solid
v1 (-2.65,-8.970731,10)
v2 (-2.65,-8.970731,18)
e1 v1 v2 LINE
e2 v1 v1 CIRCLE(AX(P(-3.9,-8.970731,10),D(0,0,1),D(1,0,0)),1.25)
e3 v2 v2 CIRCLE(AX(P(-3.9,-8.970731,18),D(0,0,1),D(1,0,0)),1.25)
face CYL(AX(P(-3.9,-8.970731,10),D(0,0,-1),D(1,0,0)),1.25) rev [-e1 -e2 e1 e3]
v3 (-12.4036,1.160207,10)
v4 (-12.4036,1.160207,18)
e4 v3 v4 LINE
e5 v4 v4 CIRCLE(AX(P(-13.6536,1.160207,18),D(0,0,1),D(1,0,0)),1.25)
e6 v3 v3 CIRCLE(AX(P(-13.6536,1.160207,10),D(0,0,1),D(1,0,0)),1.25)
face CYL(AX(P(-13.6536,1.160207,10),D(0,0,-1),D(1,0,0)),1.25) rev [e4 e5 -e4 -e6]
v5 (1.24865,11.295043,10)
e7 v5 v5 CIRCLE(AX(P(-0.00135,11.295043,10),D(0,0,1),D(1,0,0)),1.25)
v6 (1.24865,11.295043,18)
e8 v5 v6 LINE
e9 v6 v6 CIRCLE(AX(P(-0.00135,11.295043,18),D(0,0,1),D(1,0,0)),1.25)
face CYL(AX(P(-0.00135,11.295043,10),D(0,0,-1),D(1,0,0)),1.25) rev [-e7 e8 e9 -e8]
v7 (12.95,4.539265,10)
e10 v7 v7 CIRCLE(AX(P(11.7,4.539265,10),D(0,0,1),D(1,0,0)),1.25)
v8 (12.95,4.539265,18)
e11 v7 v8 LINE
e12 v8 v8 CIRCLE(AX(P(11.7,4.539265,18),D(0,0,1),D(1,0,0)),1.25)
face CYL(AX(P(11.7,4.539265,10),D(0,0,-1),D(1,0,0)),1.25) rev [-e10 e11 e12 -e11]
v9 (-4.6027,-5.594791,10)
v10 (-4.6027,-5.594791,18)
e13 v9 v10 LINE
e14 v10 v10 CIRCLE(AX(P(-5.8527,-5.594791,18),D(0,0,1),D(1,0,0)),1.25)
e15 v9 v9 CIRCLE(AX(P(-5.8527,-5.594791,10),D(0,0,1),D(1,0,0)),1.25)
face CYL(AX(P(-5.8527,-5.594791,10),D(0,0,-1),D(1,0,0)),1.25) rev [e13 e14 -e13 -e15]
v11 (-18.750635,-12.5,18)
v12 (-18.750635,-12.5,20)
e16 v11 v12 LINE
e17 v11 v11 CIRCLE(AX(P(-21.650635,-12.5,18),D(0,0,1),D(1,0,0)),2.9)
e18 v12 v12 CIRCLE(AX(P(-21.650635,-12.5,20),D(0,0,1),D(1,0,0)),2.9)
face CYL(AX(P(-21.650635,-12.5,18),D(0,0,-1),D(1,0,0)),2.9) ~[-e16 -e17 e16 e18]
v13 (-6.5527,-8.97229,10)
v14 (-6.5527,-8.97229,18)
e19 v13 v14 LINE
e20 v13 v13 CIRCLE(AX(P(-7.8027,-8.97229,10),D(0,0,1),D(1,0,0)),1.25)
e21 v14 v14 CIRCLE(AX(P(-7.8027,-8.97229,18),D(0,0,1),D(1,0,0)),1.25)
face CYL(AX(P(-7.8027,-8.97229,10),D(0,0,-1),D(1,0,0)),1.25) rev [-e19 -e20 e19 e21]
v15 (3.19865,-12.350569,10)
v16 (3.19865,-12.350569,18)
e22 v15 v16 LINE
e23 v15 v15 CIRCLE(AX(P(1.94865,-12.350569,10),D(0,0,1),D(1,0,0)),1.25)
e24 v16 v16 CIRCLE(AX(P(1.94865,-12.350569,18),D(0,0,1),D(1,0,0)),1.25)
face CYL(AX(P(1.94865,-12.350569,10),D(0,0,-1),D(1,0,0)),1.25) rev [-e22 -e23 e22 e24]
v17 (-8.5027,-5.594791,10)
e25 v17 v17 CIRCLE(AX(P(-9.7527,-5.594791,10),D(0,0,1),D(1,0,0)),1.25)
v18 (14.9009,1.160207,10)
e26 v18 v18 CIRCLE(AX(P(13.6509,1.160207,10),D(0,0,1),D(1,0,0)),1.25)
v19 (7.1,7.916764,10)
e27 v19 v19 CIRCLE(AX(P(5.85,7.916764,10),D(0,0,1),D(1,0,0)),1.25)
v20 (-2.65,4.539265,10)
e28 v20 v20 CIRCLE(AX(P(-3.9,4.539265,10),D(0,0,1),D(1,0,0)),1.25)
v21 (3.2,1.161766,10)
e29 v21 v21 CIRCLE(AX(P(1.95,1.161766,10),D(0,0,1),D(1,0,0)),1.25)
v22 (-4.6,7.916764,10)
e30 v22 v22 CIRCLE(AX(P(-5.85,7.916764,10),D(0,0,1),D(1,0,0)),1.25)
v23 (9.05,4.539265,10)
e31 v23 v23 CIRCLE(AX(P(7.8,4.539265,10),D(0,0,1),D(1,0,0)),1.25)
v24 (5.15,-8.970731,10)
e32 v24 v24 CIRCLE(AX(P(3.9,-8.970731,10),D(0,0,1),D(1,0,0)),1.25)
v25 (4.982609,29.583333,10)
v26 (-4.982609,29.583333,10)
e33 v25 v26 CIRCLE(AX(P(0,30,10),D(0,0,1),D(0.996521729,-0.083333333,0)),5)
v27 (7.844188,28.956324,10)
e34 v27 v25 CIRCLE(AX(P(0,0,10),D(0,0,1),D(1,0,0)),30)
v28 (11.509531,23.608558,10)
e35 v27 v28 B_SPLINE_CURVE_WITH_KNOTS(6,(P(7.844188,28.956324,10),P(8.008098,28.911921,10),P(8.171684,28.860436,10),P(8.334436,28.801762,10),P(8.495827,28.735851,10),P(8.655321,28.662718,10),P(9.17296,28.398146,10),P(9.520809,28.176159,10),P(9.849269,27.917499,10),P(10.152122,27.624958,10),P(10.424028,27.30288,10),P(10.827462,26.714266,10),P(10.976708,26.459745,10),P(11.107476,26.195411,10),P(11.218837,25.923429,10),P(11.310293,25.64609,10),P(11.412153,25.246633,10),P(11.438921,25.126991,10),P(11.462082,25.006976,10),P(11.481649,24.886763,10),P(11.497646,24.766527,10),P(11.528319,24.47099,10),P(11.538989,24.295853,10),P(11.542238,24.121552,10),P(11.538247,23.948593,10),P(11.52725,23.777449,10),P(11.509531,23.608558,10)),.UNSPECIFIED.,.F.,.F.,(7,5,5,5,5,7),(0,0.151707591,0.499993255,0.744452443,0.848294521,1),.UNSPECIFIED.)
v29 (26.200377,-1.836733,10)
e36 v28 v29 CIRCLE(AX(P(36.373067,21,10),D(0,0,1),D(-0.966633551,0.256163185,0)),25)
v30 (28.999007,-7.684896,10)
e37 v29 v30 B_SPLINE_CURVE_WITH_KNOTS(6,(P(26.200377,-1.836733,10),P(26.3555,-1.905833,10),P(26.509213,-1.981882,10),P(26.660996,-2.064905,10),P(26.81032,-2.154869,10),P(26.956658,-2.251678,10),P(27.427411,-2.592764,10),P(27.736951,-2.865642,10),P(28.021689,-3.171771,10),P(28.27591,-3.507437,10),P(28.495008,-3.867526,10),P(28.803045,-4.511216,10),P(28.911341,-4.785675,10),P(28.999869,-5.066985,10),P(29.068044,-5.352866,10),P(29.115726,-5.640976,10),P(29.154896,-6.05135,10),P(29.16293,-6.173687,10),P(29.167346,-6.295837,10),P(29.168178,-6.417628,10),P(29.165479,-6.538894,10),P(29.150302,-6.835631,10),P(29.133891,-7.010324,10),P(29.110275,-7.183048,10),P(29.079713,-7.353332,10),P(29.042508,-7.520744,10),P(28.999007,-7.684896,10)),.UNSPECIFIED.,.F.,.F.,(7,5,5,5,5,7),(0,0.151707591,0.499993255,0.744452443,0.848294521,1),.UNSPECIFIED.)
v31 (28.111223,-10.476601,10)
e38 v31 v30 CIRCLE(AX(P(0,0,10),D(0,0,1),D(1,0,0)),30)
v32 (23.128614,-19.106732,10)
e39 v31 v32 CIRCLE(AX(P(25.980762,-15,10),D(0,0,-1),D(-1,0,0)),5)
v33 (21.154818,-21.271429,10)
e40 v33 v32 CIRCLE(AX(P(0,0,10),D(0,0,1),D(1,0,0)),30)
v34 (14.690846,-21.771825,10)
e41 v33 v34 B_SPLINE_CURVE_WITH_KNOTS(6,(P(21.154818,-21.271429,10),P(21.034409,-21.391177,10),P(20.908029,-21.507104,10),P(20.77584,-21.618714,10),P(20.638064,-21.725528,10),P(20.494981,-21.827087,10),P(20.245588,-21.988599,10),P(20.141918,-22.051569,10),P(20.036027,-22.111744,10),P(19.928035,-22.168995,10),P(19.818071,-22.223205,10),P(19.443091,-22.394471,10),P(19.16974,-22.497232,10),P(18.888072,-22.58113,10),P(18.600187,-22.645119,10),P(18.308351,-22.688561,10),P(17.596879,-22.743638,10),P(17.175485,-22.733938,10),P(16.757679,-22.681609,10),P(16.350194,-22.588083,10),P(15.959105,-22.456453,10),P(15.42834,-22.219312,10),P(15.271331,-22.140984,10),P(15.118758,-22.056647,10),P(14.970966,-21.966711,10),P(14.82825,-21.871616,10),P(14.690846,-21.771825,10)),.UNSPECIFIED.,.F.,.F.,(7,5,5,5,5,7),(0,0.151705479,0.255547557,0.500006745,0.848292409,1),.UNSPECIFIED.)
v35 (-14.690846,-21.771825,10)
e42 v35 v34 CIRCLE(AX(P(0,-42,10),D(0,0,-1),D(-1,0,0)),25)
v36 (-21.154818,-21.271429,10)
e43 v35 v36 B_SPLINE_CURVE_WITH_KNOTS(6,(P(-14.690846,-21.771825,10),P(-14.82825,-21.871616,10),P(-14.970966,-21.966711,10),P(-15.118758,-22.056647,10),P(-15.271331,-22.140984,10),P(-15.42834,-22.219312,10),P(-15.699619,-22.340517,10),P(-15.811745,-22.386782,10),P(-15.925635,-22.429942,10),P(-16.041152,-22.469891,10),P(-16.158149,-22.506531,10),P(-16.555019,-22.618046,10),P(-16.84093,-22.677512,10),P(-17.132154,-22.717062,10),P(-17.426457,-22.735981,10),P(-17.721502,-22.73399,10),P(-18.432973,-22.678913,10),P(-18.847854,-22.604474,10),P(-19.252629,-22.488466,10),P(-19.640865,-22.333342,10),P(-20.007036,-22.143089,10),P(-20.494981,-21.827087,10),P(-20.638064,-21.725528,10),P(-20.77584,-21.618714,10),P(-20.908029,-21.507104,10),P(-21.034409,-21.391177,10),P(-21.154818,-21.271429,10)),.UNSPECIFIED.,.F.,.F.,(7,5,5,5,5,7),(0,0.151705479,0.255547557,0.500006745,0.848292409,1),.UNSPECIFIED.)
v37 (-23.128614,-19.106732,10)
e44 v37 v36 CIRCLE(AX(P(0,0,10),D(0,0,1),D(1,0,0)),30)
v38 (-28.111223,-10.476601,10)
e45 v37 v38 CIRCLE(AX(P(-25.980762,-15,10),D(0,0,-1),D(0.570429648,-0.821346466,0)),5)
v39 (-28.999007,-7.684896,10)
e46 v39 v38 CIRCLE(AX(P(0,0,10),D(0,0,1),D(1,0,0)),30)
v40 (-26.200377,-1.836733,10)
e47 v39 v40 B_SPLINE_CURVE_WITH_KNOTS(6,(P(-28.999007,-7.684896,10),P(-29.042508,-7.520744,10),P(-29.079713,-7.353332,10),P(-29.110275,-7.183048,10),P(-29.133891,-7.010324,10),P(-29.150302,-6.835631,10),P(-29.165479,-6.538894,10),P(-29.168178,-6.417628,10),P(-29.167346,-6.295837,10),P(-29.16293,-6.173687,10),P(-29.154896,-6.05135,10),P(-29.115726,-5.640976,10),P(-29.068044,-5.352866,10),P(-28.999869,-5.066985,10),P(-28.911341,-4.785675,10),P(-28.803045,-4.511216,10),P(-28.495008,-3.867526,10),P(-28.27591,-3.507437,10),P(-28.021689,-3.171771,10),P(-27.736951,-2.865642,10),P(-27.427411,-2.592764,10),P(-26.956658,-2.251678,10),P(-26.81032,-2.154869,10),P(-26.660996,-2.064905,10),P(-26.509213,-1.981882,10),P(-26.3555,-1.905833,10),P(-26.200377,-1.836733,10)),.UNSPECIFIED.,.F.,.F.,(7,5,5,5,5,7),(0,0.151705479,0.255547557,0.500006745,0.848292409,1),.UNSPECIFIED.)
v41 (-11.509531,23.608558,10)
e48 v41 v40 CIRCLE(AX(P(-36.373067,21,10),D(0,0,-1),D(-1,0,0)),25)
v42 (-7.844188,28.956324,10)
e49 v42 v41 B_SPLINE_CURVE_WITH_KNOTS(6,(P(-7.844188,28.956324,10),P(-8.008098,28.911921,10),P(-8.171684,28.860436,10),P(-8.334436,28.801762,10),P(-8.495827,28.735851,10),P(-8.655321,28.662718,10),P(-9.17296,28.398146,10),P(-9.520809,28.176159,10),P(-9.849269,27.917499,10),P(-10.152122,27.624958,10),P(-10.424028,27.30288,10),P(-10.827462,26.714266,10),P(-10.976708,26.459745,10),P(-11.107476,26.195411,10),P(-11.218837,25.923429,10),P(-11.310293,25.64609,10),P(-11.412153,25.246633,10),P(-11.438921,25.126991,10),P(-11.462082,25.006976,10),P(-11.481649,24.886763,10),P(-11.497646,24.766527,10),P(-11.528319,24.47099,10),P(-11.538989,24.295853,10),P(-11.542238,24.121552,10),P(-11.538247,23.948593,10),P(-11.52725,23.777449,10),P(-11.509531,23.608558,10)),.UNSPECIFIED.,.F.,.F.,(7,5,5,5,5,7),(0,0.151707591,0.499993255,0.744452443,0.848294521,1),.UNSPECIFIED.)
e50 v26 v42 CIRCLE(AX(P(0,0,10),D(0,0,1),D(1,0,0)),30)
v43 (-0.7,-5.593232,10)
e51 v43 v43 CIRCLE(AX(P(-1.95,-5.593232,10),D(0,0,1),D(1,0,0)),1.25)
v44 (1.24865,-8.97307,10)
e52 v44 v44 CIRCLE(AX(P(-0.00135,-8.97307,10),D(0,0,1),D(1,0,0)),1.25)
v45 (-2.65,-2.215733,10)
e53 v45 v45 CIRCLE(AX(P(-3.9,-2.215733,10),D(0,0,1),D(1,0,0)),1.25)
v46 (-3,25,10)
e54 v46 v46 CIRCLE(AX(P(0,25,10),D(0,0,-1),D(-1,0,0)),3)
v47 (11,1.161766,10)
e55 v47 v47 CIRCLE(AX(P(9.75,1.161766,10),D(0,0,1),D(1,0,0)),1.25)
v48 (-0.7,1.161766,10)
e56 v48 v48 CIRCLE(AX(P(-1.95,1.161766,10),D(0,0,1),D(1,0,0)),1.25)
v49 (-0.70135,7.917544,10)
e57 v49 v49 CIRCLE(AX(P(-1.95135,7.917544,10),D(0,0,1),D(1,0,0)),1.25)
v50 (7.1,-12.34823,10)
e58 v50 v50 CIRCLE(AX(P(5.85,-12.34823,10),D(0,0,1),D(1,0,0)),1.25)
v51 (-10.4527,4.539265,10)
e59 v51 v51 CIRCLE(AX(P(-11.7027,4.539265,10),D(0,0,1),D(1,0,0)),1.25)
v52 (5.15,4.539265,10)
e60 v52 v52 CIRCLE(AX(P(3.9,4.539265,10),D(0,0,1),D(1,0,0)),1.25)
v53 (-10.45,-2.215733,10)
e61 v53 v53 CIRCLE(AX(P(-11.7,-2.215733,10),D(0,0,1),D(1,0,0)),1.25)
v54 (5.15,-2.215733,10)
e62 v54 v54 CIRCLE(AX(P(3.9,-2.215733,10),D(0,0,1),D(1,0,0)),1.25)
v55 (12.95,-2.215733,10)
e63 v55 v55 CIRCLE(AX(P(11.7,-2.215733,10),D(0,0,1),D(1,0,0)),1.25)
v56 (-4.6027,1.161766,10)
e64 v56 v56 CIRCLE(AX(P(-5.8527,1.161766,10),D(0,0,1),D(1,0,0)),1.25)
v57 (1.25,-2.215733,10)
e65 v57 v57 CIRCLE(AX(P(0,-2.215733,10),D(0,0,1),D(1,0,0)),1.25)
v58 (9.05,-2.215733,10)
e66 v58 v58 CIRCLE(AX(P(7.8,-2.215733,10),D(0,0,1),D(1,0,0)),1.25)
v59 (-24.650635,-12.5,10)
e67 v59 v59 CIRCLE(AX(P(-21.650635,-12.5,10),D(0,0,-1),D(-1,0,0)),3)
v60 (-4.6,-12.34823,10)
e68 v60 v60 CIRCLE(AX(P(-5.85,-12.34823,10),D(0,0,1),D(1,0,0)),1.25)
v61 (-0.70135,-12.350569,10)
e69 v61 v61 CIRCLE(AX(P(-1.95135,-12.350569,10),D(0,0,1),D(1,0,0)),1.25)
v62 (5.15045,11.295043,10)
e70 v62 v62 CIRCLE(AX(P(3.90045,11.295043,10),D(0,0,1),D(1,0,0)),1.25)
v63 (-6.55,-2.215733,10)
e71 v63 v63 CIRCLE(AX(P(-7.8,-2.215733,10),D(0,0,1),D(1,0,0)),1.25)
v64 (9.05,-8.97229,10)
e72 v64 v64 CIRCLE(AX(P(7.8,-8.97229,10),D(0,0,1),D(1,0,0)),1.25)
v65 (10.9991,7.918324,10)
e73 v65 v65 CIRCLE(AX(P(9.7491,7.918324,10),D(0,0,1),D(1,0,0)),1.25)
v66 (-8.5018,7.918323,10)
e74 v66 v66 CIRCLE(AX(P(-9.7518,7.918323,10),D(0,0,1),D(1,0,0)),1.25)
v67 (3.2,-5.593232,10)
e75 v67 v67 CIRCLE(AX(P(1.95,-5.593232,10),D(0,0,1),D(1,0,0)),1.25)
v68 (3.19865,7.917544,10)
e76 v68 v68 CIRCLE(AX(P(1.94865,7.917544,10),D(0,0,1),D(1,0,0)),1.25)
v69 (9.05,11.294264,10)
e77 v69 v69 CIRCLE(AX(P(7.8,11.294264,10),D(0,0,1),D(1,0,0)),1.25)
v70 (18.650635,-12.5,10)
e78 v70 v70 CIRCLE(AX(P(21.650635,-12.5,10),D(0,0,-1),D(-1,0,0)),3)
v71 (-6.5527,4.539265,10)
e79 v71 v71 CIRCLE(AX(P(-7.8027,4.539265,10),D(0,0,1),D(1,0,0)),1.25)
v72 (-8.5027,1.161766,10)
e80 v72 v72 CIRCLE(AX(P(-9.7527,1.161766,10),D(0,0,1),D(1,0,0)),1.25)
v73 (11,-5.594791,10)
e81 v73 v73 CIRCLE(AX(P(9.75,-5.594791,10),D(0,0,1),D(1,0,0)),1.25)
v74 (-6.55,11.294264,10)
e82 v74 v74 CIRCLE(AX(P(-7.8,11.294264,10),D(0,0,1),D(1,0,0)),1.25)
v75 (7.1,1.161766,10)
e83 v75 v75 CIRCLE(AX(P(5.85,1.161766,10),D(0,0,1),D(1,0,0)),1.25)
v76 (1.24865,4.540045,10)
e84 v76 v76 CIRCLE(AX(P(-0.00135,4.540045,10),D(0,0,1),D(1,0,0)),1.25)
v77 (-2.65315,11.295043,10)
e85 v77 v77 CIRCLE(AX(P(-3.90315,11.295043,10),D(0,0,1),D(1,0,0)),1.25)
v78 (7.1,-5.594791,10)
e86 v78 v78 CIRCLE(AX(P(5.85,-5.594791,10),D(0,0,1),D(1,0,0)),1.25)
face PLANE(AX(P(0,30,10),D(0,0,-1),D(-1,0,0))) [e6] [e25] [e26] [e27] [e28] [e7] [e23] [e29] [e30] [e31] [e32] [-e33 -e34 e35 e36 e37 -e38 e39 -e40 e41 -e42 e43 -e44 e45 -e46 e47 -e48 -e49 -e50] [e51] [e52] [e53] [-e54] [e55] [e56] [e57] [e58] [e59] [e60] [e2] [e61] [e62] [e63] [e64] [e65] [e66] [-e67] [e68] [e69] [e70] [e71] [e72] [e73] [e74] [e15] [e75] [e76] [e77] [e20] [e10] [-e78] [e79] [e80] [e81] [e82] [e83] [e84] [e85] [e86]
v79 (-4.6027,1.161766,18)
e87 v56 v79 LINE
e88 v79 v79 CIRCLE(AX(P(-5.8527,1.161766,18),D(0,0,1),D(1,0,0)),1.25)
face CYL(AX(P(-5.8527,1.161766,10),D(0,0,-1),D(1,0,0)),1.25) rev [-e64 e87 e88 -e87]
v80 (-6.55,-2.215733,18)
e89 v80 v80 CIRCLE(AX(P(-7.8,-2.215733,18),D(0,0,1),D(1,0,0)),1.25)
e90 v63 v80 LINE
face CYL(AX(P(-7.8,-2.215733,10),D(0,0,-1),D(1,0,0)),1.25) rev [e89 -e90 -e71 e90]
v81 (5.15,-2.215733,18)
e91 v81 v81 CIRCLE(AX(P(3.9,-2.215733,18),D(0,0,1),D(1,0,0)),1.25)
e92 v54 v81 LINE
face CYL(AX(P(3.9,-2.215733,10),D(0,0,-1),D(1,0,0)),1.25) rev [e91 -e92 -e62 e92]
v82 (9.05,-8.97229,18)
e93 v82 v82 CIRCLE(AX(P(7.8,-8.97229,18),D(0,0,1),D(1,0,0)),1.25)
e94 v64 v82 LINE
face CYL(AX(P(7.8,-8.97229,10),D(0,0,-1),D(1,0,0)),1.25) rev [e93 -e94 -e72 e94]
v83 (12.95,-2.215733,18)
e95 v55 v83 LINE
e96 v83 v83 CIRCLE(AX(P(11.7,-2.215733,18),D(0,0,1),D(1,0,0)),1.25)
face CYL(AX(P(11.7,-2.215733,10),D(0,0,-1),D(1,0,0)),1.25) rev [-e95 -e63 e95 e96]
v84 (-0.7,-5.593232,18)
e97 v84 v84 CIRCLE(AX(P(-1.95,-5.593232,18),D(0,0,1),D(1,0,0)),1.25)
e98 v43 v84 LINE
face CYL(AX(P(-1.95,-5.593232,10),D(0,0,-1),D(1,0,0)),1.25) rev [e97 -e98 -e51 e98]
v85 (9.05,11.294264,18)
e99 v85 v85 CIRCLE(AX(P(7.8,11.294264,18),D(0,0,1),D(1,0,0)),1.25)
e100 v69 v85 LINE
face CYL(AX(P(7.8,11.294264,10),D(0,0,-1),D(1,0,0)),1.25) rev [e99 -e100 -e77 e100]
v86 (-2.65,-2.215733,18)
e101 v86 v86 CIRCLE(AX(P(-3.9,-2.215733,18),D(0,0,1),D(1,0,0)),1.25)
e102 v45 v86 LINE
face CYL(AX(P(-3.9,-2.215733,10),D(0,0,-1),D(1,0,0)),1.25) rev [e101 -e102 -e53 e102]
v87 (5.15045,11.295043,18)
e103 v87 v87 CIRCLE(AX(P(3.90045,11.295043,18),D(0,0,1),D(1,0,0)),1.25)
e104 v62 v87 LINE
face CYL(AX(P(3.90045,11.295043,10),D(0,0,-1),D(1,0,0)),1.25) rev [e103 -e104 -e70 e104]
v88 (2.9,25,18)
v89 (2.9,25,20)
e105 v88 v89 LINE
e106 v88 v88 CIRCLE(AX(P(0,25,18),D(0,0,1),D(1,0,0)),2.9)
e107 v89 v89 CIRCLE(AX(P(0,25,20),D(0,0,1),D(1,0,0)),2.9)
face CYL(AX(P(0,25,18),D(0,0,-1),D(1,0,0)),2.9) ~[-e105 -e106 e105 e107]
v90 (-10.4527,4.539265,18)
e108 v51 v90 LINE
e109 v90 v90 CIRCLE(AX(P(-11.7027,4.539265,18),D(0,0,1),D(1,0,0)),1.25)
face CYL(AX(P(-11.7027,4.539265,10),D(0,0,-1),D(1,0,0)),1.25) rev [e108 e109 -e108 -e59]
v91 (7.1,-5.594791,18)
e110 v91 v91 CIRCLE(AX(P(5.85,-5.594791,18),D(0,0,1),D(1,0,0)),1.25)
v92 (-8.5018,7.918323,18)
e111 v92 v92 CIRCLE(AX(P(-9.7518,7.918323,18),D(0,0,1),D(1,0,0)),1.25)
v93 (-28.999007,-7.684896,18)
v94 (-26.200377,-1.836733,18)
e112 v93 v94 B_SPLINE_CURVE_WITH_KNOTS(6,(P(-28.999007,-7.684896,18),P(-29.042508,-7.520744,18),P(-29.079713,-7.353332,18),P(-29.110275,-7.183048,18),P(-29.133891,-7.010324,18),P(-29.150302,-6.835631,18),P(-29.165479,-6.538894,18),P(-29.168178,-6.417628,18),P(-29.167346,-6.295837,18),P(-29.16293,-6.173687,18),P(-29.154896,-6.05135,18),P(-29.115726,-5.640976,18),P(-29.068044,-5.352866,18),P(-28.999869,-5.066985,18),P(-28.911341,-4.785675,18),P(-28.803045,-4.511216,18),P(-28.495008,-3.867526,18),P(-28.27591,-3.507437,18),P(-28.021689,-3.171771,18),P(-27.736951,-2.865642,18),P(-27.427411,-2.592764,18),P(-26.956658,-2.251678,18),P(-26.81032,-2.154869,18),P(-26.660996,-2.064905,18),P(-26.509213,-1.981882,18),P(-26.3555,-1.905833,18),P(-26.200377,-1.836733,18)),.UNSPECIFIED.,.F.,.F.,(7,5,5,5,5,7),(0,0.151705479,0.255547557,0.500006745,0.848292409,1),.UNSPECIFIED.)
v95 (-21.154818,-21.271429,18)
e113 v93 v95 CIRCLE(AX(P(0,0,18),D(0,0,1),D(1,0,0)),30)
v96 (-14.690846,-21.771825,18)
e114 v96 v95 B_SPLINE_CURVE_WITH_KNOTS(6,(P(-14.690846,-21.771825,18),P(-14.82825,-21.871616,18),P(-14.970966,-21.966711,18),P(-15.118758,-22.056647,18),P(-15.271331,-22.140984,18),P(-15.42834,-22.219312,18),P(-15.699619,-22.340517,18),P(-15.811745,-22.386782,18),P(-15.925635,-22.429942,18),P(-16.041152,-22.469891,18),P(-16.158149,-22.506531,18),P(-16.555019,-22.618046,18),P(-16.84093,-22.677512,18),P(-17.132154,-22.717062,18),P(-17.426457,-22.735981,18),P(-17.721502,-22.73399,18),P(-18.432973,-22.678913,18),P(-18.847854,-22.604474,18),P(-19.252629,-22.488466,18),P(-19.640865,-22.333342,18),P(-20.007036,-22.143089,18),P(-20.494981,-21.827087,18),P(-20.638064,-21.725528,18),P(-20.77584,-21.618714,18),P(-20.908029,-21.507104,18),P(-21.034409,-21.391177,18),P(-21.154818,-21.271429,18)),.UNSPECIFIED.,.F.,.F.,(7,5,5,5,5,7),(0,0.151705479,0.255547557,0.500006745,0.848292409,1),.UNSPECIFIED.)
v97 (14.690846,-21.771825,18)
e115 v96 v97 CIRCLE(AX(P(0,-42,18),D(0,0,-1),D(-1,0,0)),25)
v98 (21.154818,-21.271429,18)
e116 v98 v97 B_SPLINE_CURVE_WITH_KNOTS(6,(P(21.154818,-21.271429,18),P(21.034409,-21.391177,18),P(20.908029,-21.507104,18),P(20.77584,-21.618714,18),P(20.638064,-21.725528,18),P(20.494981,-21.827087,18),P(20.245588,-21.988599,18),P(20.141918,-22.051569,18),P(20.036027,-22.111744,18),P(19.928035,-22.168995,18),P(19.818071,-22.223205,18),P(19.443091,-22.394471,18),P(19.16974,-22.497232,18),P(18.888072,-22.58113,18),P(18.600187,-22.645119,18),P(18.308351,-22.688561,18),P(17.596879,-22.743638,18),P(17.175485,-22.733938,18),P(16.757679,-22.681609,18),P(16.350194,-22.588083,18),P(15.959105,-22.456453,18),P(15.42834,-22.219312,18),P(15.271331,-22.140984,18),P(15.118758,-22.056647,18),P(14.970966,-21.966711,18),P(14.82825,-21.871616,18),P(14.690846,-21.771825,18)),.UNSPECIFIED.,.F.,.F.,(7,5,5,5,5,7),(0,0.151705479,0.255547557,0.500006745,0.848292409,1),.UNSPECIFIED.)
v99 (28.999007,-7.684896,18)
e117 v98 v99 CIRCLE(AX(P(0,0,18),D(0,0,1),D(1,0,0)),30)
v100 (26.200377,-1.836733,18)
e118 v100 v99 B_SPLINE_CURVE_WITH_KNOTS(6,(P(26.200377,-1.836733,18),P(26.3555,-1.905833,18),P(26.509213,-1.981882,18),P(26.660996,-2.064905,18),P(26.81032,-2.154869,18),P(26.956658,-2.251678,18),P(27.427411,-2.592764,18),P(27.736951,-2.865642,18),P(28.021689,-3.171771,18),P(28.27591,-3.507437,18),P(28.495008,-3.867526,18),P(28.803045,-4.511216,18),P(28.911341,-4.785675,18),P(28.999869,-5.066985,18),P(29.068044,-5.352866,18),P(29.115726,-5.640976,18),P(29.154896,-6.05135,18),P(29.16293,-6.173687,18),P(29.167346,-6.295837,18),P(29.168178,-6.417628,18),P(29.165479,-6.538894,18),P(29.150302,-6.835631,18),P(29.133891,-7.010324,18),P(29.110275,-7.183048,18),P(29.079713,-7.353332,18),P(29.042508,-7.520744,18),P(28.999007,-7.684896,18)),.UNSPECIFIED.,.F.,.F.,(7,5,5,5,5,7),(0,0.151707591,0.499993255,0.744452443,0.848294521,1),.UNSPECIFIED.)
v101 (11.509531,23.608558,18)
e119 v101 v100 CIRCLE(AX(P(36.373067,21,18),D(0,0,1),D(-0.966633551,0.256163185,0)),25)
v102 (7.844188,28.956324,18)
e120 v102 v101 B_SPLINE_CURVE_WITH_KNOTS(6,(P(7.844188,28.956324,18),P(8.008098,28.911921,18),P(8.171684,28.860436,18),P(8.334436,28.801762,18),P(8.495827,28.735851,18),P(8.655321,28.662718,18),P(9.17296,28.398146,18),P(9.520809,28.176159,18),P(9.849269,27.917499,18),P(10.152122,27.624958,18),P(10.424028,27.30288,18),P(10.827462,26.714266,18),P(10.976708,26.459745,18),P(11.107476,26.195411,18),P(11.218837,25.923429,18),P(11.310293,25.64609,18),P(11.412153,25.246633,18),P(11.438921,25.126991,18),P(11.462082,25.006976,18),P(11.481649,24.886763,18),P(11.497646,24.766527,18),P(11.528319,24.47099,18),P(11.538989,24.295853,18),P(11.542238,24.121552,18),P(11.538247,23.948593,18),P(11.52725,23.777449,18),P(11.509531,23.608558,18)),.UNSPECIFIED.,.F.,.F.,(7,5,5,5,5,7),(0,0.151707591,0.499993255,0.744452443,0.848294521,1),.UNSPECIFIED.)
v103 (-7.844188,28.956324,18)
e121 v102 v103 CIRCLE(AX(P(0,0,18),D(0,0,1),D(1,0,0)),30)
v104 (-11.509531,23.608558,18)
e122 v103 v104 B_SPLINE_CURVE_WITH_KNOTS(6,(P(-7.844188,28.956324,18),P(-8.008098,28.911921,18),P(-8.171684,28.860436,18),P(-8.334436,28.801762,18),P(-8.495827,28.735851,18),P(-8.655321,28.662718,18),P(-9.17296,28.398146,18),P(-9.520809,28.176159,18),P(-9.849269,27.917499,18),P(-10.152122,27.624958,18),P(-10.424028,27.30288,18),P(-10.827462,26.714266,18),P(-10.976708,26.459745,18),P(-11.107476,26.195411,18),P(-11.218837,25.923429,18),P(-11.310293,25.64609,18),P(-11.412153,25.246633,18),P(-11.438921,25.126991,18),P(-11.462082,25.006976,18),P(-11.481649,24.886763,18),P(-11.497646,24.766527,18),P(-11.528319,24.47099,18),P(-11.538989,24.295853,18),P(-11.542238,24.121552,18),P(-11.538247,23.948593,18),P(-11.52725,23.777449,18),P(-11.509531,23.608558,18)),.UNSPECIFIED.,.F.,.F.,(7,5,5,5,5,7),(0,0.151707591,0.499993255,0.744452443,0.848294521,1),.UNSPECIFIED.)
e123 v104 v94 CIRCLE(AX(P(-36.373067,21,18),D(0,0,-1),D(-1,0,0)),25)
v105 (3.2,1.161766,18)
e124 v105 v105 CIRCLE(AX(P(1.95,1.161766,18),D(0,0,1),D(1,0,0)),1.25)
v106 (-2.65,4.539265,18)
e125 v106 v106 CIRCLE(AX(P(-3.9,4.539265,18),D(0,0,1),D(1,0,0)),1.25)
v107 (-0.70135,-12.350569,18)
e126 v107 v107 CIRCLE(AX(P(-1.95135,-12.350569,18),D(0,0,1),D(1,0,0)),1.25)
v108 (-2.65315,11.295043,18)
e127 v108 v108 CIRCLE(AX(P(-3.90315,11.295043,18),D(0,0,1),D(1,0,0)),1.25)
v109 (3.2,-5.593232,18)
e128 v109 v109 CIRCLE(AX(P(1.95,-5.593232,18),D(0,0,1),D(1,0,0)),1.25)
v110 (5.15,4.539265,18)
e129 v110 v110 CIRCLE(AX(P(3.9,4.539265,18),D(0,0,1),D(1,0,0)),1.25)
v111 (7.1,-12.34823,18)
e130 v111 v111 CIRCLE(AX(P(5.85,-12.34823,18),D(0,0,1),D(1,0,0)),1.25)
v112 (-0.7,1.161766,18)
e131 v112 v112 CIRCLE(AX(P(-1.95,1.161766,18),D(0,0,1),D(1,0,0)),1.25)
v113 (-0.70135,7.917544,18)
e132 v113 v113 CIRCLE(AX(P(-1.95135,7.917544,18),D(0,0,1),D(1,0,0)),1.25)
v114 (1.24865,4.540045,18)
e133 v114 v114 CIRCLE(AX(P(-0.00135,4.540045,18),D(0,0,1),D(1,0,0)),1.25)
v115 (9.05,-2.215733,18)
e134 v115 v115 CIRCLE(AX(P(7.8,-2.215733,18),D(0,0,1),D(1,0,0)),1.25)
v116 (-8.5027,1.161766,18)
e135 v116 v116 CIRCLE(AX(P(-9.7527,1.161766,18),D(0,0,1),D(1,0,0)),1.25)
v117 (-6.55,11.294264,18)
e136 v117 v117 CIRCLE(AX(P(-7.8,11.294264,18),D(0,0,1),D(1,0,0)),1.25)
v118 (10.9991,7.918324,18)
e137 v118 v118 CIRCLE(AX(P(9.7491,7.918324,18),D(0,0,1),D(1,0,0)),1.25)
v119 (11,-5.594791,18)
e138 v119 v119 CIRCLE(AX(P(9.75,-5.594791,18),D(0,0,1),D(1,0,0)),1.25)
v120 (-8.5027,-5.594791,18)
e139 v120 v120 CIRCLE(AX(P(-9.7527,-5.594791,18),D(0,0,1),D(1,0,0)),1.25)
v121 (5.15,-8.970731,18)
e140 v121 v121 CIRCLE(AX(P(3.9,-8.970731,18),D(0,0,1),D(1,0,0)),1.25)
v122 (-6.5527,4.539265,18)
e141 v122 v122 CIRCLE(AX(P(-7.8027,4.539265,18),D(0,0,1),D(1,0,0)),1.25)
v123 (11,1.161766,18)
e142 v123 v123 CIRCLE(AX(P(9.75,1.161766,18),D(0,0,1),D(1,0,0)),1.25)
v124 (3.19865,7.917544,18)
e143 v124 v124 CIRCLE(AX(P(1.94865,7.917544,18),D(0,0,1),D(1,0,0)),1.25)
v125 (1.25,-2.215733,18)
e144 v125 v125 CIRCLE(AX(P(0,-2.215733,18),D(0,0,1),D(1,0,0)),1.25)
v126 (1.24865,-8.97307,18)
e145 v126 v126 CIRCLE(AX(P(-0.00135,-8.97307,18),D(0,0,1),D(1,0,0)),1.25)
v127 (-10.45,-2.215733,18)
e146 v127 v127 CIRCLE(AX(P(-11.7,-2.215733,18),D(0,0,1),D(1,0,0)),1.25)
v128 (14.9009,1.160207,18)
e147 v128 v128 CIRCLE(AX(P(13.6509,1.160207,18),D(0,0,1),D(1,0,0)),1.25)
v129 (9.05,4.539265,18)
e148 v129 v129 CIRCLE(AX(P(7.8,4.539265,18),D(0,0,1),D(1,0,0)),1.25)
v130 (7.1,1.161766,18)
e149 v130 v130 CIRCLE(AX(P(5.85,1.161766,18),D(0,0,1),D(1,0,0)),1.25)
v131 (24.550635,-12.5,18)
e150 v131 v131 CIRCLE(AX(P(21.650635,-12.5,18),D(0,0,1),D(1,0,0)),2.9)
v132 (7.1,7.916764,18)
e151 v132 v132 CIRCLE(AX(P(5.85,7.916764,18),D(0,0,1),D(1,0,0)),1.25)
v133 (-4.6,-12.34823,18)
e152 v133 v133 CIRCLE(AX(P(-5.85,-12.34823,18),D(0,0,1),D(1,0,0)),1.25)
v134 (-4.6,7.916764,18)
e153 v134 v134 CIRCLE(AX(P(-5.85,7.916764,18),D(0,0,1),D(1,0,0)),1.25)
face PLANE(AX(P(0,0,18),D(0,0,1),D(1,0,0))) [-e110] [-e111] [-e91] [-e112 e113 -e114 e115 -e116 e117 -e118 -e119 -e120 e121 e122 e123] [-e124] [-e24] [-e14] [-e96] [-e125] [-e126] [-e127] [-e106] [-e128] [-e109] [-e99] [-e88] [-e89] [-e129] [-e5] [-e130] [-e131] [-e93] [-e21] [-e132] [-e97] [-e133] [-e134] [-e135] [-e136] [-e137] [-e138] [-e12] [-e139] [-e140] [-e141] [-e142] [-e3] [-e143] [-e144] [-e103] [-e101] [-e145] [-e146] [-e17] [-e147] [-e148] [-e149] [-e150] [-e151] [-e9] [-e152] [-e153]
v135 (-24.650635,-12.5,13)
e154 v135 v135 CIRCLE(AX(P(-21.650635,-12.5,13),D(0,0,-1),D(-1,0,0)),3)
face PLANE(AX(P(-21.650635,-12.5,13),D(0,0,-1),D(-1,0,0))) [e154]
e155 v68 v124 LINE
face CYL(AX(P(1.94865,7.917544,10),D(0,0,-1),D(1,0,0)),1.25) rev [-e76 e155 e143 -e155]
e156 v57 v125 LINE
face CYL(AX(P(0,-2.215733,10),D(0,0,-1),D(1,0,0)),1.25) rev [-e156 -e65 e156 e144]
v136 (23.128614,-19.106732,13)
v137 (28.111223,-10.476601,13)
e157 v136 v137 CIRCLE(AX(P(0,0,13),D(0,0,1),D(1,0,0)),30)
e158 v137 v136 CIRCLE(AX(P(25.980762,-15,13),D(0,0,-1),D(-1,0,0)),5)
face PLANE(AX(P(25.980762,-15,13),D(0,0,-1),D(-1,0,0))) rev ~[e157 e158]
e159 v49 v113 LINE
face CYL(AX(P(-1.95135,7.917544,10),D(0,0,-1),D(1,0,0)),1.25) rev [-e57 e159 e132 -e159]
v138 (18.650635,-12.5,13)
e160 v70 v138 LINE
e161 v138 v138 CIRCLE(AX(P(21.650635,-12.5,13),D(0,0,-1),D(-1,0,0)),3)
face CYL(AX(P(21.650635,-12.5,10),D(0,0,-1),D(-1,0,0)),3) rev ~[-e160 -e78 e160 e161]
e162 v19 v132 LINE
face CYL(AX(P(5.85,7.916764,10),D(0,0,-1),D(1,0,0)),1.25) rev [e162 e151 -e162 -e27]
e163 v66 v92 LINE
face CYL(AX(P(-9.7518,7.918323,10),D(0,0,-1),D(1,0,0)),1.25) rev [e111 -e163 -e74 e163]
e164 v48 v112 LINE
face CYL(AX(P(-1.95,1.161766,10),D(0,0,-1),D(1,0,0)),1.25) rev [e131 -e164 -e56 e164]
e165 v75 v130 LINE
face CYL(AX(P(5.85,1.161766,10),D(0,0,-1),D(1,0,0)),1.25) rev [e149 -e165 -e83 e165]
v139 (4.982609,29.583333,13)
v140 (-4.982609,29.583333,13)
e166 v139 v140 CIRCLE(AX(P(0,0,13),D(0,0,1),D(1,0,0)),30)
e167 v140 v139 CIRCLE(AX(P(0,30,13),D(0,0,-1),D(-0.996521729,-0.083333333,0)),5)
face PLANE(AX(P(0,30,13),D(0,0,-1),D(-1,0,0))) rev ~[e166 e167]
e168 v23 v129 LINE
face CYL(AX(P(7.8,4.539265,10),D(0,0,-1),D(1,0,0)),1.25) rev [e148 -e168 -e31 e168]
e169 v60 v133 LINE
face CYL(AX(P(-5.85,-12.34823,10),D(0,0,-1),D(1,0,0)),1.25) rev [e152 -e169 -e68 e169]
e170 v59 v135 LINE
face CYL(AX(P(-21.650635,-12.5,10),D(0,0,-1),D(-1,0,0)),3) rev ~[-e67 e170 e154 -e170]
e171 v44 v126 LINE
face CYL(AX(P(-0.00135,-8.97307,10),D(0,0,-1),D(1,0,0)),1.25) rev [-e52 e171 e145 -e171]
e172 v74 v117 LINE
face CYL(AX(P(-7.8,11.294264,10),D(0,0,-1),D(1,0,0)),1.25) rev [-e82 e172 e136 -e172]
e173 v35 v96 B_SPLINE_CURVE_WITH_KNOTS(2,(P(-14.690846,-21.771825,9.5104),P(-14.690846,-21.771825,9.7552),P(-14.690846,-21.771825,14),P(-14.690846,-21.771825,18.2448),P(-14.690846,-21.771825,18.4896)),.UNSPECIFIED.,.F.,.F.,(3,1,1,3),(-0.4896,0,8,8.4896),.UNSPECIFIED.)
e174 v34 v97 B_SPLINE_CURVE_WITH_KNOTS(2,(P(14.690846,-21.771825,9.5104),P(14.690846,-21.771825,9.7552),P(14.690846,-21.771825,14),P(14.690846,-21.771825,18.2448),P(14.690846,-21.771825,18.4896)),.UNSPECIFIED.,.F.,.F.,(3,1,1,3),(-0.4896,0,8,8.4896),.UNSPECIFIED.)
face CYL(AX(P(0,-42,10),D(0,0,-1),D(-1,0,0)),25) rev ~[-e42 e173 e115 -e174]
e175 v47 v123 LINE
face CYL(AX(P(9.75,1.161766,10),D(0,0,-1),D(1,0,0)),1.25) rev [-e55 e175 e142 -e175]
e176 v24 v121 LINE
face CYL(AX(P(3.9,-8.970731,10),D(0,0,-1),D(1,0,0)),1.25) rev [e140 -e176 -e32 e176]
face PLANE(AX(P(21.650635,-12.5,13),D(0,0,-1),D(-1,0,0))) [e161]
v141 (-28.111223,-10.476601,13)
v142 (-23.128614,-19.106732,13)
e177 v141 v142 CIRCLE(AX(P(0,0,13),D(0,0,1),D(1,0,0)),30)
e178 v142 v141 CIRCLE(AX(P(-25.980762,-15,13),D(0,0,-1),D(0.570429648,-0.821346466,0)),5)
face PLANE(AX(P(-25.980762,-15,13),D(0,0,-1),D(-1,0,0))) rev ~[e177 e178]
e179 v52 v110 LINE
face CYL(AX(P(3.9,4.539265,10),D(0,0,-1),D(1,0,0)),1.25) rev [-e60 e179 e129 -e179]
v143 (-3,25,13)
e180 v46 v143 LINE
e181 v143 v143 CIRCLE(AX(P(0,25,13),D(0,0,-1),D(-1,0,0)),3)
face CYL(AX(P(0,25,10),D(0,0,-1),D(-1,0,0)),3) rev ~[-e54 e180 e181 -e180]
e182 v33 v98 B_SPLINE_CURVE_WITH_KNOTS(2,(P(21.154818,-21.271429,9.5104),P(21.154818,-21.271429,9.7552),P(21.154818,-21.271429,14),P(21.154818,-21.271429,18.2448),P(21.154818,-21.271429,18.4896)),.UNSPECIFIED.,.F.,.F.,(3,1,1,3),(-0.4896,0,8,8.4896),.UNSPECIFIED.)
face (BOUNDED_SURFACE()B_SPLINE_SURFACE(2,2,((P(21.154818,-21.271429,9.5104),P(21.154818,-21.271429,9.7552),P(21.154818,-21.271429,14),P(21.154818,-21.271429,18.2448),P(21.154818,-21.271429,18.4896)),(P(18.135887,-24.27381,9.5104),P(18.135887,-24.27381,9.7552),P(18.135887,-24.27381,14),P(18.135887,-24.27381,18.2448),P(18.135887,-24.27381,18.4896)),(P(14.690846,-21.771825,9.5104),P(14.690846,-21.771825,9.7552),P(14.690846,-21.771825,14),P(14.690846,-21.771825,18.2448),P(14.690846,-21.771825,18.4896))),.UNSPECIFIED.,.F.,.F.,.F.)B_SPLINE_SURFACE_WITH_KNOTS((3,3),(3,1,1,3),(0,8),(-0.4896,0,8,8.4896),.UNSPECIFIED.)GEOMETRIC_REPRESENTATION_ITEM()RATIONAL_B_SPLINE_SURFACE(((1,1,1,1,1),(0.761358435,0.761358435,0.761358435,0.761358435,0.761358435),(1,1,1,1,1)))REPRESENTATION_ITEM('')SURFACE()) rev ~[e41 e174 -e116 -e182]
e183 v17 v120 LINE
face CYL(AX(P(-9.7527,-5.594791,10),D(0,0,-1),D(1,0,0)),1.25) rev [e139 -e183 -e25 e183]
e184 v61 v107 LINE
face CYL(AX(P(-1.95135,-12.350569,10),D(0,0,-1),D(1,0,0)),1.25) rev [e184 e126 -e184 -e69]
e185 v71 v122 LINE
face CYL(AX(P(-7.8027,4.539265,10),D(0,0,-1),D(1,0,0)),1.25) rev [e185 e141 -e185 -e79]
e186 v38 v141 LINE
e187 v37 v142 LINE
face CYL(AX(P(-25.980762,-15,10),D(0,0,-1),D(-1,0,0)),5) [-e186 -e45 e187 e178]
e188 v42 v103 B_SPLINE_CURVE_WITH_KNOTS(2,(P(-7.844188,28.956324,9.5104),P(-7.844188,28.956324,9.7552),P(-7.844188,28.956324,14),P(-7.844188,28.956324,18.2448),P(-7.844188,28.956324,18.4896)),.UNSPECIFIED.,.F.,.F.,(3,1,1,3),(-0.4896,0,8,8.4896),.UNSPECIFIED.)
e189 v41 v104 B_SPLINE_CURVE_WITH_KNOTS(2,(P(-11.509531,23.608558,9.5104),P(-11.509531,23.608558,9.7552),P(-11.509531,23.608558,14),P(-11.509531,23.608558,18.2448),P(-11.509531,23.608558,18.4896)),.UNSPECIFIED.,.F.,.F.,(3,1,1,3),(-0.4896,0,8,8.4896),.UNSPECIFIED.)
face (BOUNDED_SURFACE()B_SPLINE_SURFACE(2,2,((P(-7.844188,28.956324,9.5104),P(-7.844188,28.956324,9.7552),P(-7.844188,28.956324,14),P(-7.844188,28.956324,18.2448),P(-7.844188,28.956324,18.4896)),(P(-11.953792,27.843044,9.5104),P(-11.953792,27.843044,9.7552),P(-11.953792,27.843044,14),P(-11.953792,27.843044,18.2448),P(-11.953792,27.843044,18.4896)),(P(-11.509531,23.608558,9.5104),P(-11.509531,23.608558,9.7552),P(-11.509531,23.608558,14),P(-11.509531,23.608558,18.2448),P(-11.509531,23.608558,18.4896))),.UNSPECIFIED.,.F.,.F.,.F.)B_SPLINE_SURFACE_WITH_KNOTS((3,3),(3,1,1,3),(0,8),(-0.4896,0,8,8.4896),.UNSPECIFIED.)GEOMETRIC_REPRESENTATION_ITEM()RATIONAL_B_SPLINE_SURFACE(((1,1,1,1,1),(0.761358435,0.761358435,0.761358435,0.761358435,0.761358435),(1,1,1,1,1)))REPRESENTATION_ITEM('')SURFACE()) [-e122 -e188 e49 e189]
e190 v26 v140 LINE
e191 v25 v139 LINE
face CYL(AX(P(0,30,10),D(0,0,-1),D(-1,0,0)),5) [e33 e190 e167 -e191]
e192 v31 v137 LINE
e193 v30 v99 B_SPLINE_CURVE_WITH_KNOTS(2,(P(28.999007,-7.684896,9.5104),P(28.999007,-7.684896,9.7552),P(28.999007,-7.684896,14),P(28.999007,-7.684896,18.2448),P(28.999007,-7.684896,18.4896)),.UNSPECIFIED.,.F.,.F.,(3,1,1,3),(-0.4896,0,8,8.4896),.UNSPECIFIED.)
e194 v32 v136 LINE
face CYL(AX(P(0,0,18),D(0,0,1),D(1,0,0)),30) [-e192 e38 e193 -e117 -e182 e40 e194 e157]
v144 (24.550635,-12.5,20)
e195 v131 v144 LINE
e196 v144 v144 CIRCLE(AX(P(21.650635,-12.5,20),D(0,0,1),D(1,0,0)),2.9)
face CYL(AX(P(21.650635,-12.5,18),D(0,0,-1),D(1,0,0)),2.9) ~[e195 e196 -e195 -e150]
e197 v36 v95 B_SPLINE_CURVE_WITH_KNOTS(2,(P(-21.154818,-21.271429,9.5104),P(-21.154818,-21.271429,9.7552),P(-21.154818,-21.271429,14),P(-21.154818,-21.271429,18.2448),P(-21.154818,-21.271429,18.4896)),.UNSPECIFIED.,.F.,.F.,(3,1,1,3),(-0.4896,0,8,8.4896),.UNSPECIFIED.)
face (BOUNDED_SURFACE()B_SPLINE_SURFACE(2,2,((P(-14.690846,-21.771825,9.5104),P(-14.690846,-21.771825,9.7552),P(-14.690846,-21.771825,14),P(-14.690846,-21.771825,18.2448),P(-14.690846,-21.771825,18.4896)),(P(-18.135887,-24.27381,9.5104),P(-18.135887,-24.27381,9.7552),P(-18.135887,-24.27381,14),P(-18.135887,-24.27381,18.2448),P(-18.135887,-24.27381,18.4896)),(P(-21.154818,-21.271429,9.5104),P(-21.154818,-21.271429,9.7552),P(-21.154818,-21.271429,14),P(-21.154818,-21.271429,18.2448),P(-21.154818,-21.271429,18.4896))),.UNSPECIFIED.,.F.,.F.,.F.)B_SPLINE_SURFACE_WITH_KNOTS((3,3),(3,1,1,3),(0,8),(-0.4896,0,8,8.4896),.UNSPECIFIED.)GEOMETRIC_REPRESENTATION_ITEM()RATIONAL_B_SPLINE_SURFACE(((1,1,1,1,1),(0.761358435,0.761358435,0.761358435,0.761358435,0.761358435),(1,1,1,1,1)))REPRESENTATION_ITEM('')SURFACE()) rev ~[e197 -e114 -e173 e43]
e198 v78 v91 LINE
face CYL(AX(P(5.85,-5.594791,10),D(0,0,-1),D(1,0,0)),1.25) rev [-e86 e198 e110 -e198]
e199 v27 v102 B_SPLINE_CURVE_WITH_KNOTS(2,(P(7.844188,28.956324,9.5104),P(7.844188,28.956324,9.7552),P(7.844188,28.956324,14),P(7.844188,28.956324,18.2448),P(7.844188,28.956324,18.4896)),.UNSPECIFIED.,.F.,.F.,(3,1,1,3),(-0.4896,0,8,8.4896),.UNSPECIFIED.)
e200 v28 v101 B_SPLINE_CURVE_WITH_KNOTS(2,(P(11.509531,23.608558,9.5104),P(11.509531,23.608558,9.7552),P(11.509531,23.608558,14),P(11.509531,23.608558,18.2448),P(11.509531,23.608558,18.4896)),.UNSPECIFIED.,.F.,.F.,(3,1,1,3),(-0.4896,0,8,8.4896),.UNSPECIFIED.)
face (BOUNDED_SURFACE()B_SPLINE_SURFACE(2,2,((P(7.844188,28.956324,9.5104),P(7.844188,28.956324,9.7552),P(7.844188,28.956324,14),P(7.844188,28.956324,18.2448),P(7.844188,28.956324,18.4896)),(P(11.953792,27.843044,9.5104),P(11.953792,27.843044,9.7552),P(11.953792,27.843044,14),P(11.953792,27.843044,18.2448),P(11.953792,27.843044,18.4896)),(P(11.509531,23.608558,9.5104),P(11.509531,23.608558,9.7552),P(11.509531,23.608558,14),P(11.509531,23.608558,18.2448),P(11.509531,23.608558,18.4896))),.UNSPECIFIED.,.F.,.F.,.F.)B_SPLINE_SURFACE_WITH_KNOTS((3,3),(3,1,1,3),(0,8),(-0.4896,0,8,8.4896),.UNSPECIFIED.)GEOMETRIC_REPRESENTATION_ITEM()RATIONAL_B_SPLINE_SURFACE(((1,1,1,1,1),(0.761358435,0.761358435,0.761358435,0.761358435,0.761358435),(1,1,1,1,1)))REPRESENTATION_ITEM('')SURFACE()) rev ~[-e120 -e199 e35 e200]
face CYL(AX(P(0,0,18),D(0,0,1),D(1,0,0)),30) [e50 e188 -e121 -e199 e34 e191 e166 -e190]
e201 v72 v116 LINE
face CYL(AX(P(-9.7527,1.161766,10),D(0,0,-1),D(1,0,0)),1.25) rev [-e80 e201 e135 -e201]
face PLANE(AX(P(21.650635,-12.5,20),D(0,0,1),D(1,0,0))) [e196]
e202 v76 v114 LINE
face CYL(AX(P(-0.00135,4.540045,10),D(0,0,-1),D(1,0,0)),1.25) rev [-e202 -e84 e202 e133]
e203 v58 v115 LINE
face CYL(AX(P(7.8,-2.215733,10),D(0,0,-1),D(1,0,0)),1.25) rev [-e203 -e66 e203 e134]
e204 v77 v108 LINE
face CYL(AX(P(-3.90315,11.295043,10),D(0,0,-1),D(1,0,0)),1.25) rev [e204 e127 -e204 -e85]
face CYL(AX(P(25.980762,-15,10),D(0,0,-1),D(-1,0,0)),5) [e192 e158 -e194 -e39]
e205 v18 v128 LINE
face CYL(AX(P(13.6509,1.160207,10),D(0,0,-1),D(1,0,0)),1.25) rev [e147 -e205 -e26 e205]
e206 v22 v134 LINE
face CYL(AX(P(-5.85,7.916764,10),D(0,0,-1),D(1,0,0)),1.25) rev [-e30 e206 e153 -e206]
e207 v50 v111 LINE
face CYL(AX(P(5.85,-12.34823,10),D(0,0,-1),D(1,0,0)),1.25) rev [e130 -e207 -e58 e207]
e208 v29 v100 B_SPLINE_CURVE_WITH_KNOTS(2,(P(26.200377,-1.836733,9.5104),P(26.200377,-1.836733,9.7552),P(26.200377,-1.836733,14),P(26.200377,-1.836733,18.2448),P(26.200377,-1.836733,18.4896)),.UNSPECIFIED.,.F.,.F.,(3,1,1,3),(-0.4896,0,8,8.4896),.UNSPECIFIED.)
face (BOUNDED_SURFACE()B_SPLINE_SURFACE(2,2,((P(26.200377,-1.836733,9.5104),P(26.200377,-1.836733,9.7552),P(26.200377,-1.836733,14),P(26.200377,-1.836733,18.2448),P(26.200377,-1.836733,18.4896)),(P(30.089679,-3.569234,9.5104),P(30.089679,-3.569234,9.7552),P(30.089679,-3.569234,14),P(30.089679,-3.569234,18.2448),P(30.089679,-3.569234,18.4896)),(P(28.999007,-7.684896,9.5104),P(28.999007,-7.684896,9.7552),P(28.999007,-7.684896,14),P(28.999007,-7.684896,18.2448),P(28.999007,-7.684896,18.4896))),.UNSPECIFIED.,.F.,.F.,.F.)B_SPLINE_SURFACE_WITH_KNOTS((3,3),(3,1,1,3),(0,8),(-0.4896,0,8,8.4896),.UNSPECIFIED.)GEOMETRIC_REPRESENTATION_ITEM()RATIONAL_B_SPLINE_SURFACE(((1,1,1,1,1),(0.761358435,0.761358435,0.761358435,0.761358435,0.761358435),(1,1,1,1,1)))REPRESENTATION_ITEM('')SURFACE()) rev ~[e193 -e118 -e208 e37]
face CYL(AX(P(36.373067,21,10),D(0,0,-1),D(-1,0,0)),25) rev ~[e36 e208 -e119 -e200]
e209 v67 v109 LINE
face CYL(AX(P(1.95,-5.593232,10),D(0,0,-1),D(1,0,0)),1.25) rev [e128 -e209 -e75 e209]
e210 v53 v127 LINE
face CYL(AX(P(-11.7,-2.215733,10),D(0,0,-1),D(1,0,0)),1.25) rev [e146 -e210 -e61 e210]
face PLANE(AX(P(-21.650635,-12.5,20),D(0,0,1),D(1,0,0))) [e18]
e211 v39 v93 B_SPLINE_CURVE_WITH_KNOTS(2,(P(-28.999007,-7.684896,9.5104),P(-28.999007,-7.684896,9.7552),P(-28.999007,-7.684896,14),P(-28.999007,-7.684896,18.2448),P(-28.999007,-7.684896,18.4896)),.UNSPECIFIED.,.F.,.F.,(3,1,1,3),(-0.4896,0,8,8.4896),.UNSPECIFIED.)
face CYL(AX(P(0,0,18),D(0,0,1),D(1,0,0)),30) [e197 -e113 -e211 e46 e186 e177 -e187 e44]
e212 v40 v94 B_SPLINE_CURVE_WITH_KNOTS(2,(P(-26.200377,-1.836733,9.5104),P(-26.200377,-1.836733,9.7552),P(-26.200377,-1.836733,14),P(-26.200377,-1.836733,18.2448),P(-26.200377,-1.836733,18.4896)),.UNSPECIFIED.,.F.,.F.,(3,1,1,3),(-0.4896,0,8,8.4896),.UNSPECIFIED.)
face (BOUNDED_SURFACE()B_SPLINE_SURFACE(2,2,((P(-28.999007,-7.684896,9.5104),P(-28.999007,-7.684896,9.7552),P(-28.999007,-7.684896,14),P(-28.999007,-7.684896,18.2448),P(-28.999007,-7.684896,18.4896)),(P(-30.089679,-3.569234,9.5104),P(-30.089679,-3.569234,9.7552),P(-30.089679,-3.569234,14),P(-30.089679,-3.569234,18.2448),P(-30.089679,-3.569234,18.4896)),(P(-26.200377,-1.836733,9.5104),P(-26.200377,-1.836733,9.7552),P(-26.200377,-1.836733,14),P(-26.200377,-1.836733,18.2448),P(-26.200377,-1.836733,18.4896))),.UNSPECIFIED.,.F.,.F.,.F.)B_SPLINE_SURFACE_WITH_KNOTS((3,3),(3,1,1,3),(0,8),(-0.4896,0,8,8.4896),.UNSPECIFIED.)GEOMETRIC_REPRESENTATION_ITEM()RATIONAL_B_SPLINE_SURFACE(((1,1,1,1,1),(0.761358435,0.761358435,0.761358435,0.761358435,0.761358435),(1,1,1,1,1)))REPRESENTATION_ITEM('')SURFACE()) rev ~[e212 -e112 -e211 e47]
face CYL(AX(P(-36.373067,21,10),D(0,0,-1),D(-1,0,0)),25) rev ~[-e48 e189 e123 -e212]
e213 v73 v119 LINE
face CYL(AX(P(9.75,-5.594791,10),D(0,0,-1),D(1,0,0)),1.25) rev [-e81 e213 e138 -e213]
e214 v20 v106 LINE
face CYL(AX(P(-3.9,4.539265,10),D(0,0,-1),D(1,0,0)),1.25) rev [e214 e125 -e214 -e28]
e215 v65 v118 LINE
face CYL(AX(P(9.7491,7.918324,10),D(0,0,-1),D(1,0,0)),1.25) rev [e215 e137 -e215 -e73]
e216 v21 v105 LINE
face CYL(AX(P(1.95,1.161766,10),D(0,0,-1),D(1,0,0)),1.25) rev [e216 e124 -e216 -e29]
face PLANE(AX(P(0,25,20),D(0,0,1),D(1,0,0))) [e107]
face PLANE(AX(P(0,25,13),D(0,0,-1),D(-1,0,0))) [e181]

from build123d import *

# Parameters (mm, degrees)
SKETCH2_R           = 19
SKETCH2_R_2         = 1.25
SKETCH2_R_3         = 1.249999997
SKETCH2_R_4         = 1.250000002
SKETCH2_R_5         = 1.250000001
SKETCH2_R_6         = 1.249999999
SKETCH2_R_7         = 1.249999998
BOSS_EXTRUDE1_DEPTH = 8
SKETCH3_R           = 30
SKETCH3_R_2         = 17.487995661
BOSS_EXTRUDE2_DEPTH = 8
SKETCH4_R           = 2.9
BOSS_EXTRUDE3_DEPTH = 2
SKETCH6_R           = 5
BOSS_EXTRUDE4_DEPTH = 3
SKETCH5_R           = 3
CUT_EXTRUDE1_DEPTH  = 3
SKETCH7_R           = 25
CUT_EXTRUDE2_DEPTH  = 8
FILLET2_R           = 5


with BuildPart() as part:
    # Sketch2 → Boss-Extrude1 (new body)
    with BuildSketch(Plane.XY.offset(10)):
        Circle(SKETCH2_R)
        with Locations((0, -2.215732779)):
            Circle(SKETCH2_R_2, mode=Mode.SUBTRACT)
        with Locations((3.9, -2.215732779)):
            Circle(SKETCH2_R_2, mode=Mode.SUBTRACT)
        with Locations((7.8, -2.215732779)):
            Circle(SKETCH2_R_2, mode=Mode.SUBTRACT)
        with Locations((11.7, -2.215732779)):
            Circle(SKETCH2_R_2, mode=Mode.SUBTRACT)
        with Locations((1.95, -5.593231854)):
            Circle(SKETCH2_R_2, mode=Mode.SUBTRACT)
        with Locations((3.9, -8.970730929)):
            Circle(SKETCH2_R_2, mode=Mode.SUBTRACT)
        with Locations((5.850000003, -12.348230002)):
            Circle(SKETCH2_R_3, mode=Mode.SUBTRACT)
        with Locations((-1.95, -5.593231854)):
            Circle(SKETCH2_R_2, mode=Mode.SUBTRACT)
        with Locations((-3.9, -8.970730929)):
            Circle(SKETCH2_R_2, mode=Mode.SUBTRACT)
        with Locations((-5.85, -12.348230004)):
            Circle(SKETCH2_R_2, mode=Mode.SUBTRACT)
        with Locations((-3.9, -2.215732779)):
            Circle(SKETCH2_R_2, mode=Mode.SUBTRACT)
        with Locations((-7.8, -2.215732779)):
            Circle(SKETCH2_R_2, mode=Mode.SUBTRACT)
        with Locations((-11.7, -2.215732779)):
            Circle(SKETCH2_R_2, mode=Mode.SUBTRACT)
        with Locations((-1.950000001, 1.161766295)):
            Circle(SKETCH2_R_4, mode=Mode.SUBTRACT)
        with Locations((-3.9, 4.53926537)):
            Circle(SKETCH2_R_2, mode=Mode.SUBTRACT)
        with Locations((-5.85, 7.916764445)):
            Circle(SKETCH2_R_2, mode=Mode.SUBTRACT)
        with Locations((-7.8, 11.29426352)):
            Circle(SKETCH2_R_2, mode=Mode.SUBTRACT)
        with Locations((1.95, 1.161766295)):
            Circle(SKETCH2_R_5, mode=Mode.SUBTRACT)
        with Locations((3.9, 4.53926537)):
            Circle(SKETCH2_R_2, mode=Mode.SUBTRACT)
        with Locations((5.85, 7.916764445)):
            Circle(SKETCH2_R_2, mode=Mode.SUBTRACT)
        with Locations((7.8, 11.29426352)):
            Circle(SKETCH2_R_2, mode=Mode.SUBTRACT)
        with Locations((5.85, 1.161766295)):
            Circle(SKETCH2_R_2, mode=Mode.SUBTRACT)
        with Locations((7.8, 4.53926537)):
            Circle(SKETCH2_R_2, mode=Mode.SUBTRACT)
        with Locations((9.75, 1.161766295)):
            Circle(SKETCH2_R_2, mode=Mode.SUBTRACT)
        with Locations((11.7, 4.53926537)):
            Circle(SKETCH2_R_2, mode=Mode.SUBTRACT)
        with Locations((9.749099848, 7.918323553)):
            Circle(SKETCH2_R_2, mode=Mode.SUBTRACT)
        with Locations((13.650900152, 1.160207187)):
            Circle(SKETCH2_R_2, mode=Mode.SUBTRACT)
        with Locations((5.850000208, -5.594790783)):
            Circle(SKETCH2_R_2, mode=Mode.SUBTRACT)
        with Locations((9.750000208, -5.594790782)):
            Circle(SKETCH2_R_6, mode=Mode.SUBTRACT)
        with Locations((7.800000209, -8.972289857)):
            Circle(SKETCH2_R_7, mode=Mode.SUBTRACT)
        with Locations((-0.00134976, -8.973069502)):
            Circle(SKETCH2_R_2, mode=Mode.SUBTRACT)
        with Locations((1.94865024, -12.350568576)):
            Circle(SKETCH2_R_2, mode=Mode.SUBTRACT)
        with Locations((-1.95134976, -12.350568576)):
            Circle(SKETCH2_R_2, mode=Mode.SUBTRACT)
        with Locations((-5.852699936, -5.594791143)):
            Circle(SKETCH2_R_2, mode=Mode.SUBTRACT)
        with Locations((-7.802699936, -8.972290217)):
            Circle(SKETCH2_R_2, mode=Mode.SUBTRACT)
        with Locations((-9.752699936, -5.594791143)):
            Circle(SKETCH2_R_2, mode=Mode.SUBTRACT)
        with Locations((-5.852700144, 1.161765936)):
            Circle(SKETCH2_R_2, mode=Mode.SUBTRACT)
        with Locations((-9.752700144, 1.161765936)):
            Circle(SKETCH2_R_2, mode=Mode.SUBTRACT)
        with Locations((-7.802700144, 4.53926501)):
            Circle(SKETCH2_R_2, mode=Mode.SUBTRACT)
        with Locations((-11.702700144, 4.53926501)):
            Circle(SKETCH2_R_2, mode=Mode.SUBTRACT)
        with Locations((-9.751799992, 7.918323194)):
            Circle(SKETCH2_R_2, mode=Mode.SUBTRACT)
        with Locations((-13.653600295, 1.160206827)):
            Circle(SKETCH2_R_2, mode=Mode.SUBTRACT)
        with Locations((-0.001350176, 4.540044654)):
            Circle(SKETCH2_R_5, mode=Mode.SUBTRACT)
        with Locations((-1.951350176, 7.917543729)):
            Circle(SKETCH2_R_2, mode=Mode.SUBTRACT)
        with Locations((1.948649824, 7.917543729)):
            Circle(SKETCH2_R_2, mode=Mode.SUBTRACT)
        with Locations((-0.001350176, 11.295042804)):
            Circle(SKETCH2_R_2, mode=Mode.SUBTRACT)
        with Locations((3.900450128, 11.295042804)):
            Circle(SKETCH2_R_2, mode=Mode.SUBTRACT)
        with Locations((-3.903150479, 11.295042804)):
            Circle(SKETCH2_R_2, mode=Mode.SUBTRACT)
    extrude(amount=BOSS_EXTRUDE1_DEPTH)

    # Sketch3 → Boss-Extrude2 (add)
    with BuildSketch(Plane.XY.offset(18)):
        Circle(SKETCH3_R)
        Circle(SKETCH3_R_2, mode=Mode.SUBTRACT)
    extrude(amount=-BOSS_EXTRUDE2_DEPTH)

    # Sketch4 → Boss-Extrude3 (add)
    with BuildSketch(Plane.XY.offset(18)):
        with Locations((0, 25)):
            Circle(SKETCH4_R)
        with Locations((21.650635095, -12.5)):
            Circle(SKETCH4_R)
        with Locations((-21.650635095, -12.5)):
            Circle(SKETCH4_R)
    extrude(amount=BOSS_EXTRUDE3_DEPTH)

    # Sketch6 → Boss-Extrude4 (add)
    with BuildSketch(Plane(origin=(0, 0, 10), x_dir=(-1, 0, 0), z_dir=(0, 0, -1))):
        with Locations((0, 30)):
            Circle(SKETCH6_R)
        with Locations((25.980762114, -15)):
            Circle(SKETCH6_R)
        with Locations((-25.980762114, -15)):
            Circle(SKETCH6_R)
    extrude(amount=-BOSS_EXTRUDE4_DEPTH)

    # Sketch5 → Cut-Extrude1 (cut)
    with BuildSketch(Plane(origin=(0, 0, 10), x_dir=(-1, 0, 0), z_dir=(0, 0, -1))):
        with Locations((0, 25)):
            Circle(SKETCH5_R)
        with Locations((21.650635095, -12.5)):
            Circle(SKETCH5_R)
        with Locations((-21.650635095, -12.5)):
            Circle(SKETCH5_R)
    extrude(amount=-CUT_EXTRUDE1_DEPTH, mode=Mode.SUBTRACT)

    # Sketch7 → Cut-Extrude2 (cut)
    with BuildSketch(Plane(origin=(0, 0, 10), x_dir=(-1, 0, 0), z_dir=(0, 0, -1))):
        with Locations((36.373066959, 21)):
            Circle(SKETCH7_R)
        with Locations((0, -42)):
            Circle(SKETCH7_R)
        with Locations((-36.373066959, 21)):
            Circle(SKETCH7_R)
    extrude(amount=-CUT_EXTRUDE2_DEPTH, mode=Mode.SUBTRACT)

    # Fillet2
    fillet2_edges = [part.edges().sort_by_distance(p)[0] for p in [
        (29.836243213, -3.130270104, 14),
        (12.207228175, 27.404079628, 14),
        (-12.207228175, 27.404079628, 14),
        (-29.836243213, -3.130270104, 14),
        (-17.629015038, -24.273809524, 14),
        (17.629015038, -24.273809524, 14),
    ]]
    fillet(fillet2_edges, radius=FILLET2_R)


solid = part.part
